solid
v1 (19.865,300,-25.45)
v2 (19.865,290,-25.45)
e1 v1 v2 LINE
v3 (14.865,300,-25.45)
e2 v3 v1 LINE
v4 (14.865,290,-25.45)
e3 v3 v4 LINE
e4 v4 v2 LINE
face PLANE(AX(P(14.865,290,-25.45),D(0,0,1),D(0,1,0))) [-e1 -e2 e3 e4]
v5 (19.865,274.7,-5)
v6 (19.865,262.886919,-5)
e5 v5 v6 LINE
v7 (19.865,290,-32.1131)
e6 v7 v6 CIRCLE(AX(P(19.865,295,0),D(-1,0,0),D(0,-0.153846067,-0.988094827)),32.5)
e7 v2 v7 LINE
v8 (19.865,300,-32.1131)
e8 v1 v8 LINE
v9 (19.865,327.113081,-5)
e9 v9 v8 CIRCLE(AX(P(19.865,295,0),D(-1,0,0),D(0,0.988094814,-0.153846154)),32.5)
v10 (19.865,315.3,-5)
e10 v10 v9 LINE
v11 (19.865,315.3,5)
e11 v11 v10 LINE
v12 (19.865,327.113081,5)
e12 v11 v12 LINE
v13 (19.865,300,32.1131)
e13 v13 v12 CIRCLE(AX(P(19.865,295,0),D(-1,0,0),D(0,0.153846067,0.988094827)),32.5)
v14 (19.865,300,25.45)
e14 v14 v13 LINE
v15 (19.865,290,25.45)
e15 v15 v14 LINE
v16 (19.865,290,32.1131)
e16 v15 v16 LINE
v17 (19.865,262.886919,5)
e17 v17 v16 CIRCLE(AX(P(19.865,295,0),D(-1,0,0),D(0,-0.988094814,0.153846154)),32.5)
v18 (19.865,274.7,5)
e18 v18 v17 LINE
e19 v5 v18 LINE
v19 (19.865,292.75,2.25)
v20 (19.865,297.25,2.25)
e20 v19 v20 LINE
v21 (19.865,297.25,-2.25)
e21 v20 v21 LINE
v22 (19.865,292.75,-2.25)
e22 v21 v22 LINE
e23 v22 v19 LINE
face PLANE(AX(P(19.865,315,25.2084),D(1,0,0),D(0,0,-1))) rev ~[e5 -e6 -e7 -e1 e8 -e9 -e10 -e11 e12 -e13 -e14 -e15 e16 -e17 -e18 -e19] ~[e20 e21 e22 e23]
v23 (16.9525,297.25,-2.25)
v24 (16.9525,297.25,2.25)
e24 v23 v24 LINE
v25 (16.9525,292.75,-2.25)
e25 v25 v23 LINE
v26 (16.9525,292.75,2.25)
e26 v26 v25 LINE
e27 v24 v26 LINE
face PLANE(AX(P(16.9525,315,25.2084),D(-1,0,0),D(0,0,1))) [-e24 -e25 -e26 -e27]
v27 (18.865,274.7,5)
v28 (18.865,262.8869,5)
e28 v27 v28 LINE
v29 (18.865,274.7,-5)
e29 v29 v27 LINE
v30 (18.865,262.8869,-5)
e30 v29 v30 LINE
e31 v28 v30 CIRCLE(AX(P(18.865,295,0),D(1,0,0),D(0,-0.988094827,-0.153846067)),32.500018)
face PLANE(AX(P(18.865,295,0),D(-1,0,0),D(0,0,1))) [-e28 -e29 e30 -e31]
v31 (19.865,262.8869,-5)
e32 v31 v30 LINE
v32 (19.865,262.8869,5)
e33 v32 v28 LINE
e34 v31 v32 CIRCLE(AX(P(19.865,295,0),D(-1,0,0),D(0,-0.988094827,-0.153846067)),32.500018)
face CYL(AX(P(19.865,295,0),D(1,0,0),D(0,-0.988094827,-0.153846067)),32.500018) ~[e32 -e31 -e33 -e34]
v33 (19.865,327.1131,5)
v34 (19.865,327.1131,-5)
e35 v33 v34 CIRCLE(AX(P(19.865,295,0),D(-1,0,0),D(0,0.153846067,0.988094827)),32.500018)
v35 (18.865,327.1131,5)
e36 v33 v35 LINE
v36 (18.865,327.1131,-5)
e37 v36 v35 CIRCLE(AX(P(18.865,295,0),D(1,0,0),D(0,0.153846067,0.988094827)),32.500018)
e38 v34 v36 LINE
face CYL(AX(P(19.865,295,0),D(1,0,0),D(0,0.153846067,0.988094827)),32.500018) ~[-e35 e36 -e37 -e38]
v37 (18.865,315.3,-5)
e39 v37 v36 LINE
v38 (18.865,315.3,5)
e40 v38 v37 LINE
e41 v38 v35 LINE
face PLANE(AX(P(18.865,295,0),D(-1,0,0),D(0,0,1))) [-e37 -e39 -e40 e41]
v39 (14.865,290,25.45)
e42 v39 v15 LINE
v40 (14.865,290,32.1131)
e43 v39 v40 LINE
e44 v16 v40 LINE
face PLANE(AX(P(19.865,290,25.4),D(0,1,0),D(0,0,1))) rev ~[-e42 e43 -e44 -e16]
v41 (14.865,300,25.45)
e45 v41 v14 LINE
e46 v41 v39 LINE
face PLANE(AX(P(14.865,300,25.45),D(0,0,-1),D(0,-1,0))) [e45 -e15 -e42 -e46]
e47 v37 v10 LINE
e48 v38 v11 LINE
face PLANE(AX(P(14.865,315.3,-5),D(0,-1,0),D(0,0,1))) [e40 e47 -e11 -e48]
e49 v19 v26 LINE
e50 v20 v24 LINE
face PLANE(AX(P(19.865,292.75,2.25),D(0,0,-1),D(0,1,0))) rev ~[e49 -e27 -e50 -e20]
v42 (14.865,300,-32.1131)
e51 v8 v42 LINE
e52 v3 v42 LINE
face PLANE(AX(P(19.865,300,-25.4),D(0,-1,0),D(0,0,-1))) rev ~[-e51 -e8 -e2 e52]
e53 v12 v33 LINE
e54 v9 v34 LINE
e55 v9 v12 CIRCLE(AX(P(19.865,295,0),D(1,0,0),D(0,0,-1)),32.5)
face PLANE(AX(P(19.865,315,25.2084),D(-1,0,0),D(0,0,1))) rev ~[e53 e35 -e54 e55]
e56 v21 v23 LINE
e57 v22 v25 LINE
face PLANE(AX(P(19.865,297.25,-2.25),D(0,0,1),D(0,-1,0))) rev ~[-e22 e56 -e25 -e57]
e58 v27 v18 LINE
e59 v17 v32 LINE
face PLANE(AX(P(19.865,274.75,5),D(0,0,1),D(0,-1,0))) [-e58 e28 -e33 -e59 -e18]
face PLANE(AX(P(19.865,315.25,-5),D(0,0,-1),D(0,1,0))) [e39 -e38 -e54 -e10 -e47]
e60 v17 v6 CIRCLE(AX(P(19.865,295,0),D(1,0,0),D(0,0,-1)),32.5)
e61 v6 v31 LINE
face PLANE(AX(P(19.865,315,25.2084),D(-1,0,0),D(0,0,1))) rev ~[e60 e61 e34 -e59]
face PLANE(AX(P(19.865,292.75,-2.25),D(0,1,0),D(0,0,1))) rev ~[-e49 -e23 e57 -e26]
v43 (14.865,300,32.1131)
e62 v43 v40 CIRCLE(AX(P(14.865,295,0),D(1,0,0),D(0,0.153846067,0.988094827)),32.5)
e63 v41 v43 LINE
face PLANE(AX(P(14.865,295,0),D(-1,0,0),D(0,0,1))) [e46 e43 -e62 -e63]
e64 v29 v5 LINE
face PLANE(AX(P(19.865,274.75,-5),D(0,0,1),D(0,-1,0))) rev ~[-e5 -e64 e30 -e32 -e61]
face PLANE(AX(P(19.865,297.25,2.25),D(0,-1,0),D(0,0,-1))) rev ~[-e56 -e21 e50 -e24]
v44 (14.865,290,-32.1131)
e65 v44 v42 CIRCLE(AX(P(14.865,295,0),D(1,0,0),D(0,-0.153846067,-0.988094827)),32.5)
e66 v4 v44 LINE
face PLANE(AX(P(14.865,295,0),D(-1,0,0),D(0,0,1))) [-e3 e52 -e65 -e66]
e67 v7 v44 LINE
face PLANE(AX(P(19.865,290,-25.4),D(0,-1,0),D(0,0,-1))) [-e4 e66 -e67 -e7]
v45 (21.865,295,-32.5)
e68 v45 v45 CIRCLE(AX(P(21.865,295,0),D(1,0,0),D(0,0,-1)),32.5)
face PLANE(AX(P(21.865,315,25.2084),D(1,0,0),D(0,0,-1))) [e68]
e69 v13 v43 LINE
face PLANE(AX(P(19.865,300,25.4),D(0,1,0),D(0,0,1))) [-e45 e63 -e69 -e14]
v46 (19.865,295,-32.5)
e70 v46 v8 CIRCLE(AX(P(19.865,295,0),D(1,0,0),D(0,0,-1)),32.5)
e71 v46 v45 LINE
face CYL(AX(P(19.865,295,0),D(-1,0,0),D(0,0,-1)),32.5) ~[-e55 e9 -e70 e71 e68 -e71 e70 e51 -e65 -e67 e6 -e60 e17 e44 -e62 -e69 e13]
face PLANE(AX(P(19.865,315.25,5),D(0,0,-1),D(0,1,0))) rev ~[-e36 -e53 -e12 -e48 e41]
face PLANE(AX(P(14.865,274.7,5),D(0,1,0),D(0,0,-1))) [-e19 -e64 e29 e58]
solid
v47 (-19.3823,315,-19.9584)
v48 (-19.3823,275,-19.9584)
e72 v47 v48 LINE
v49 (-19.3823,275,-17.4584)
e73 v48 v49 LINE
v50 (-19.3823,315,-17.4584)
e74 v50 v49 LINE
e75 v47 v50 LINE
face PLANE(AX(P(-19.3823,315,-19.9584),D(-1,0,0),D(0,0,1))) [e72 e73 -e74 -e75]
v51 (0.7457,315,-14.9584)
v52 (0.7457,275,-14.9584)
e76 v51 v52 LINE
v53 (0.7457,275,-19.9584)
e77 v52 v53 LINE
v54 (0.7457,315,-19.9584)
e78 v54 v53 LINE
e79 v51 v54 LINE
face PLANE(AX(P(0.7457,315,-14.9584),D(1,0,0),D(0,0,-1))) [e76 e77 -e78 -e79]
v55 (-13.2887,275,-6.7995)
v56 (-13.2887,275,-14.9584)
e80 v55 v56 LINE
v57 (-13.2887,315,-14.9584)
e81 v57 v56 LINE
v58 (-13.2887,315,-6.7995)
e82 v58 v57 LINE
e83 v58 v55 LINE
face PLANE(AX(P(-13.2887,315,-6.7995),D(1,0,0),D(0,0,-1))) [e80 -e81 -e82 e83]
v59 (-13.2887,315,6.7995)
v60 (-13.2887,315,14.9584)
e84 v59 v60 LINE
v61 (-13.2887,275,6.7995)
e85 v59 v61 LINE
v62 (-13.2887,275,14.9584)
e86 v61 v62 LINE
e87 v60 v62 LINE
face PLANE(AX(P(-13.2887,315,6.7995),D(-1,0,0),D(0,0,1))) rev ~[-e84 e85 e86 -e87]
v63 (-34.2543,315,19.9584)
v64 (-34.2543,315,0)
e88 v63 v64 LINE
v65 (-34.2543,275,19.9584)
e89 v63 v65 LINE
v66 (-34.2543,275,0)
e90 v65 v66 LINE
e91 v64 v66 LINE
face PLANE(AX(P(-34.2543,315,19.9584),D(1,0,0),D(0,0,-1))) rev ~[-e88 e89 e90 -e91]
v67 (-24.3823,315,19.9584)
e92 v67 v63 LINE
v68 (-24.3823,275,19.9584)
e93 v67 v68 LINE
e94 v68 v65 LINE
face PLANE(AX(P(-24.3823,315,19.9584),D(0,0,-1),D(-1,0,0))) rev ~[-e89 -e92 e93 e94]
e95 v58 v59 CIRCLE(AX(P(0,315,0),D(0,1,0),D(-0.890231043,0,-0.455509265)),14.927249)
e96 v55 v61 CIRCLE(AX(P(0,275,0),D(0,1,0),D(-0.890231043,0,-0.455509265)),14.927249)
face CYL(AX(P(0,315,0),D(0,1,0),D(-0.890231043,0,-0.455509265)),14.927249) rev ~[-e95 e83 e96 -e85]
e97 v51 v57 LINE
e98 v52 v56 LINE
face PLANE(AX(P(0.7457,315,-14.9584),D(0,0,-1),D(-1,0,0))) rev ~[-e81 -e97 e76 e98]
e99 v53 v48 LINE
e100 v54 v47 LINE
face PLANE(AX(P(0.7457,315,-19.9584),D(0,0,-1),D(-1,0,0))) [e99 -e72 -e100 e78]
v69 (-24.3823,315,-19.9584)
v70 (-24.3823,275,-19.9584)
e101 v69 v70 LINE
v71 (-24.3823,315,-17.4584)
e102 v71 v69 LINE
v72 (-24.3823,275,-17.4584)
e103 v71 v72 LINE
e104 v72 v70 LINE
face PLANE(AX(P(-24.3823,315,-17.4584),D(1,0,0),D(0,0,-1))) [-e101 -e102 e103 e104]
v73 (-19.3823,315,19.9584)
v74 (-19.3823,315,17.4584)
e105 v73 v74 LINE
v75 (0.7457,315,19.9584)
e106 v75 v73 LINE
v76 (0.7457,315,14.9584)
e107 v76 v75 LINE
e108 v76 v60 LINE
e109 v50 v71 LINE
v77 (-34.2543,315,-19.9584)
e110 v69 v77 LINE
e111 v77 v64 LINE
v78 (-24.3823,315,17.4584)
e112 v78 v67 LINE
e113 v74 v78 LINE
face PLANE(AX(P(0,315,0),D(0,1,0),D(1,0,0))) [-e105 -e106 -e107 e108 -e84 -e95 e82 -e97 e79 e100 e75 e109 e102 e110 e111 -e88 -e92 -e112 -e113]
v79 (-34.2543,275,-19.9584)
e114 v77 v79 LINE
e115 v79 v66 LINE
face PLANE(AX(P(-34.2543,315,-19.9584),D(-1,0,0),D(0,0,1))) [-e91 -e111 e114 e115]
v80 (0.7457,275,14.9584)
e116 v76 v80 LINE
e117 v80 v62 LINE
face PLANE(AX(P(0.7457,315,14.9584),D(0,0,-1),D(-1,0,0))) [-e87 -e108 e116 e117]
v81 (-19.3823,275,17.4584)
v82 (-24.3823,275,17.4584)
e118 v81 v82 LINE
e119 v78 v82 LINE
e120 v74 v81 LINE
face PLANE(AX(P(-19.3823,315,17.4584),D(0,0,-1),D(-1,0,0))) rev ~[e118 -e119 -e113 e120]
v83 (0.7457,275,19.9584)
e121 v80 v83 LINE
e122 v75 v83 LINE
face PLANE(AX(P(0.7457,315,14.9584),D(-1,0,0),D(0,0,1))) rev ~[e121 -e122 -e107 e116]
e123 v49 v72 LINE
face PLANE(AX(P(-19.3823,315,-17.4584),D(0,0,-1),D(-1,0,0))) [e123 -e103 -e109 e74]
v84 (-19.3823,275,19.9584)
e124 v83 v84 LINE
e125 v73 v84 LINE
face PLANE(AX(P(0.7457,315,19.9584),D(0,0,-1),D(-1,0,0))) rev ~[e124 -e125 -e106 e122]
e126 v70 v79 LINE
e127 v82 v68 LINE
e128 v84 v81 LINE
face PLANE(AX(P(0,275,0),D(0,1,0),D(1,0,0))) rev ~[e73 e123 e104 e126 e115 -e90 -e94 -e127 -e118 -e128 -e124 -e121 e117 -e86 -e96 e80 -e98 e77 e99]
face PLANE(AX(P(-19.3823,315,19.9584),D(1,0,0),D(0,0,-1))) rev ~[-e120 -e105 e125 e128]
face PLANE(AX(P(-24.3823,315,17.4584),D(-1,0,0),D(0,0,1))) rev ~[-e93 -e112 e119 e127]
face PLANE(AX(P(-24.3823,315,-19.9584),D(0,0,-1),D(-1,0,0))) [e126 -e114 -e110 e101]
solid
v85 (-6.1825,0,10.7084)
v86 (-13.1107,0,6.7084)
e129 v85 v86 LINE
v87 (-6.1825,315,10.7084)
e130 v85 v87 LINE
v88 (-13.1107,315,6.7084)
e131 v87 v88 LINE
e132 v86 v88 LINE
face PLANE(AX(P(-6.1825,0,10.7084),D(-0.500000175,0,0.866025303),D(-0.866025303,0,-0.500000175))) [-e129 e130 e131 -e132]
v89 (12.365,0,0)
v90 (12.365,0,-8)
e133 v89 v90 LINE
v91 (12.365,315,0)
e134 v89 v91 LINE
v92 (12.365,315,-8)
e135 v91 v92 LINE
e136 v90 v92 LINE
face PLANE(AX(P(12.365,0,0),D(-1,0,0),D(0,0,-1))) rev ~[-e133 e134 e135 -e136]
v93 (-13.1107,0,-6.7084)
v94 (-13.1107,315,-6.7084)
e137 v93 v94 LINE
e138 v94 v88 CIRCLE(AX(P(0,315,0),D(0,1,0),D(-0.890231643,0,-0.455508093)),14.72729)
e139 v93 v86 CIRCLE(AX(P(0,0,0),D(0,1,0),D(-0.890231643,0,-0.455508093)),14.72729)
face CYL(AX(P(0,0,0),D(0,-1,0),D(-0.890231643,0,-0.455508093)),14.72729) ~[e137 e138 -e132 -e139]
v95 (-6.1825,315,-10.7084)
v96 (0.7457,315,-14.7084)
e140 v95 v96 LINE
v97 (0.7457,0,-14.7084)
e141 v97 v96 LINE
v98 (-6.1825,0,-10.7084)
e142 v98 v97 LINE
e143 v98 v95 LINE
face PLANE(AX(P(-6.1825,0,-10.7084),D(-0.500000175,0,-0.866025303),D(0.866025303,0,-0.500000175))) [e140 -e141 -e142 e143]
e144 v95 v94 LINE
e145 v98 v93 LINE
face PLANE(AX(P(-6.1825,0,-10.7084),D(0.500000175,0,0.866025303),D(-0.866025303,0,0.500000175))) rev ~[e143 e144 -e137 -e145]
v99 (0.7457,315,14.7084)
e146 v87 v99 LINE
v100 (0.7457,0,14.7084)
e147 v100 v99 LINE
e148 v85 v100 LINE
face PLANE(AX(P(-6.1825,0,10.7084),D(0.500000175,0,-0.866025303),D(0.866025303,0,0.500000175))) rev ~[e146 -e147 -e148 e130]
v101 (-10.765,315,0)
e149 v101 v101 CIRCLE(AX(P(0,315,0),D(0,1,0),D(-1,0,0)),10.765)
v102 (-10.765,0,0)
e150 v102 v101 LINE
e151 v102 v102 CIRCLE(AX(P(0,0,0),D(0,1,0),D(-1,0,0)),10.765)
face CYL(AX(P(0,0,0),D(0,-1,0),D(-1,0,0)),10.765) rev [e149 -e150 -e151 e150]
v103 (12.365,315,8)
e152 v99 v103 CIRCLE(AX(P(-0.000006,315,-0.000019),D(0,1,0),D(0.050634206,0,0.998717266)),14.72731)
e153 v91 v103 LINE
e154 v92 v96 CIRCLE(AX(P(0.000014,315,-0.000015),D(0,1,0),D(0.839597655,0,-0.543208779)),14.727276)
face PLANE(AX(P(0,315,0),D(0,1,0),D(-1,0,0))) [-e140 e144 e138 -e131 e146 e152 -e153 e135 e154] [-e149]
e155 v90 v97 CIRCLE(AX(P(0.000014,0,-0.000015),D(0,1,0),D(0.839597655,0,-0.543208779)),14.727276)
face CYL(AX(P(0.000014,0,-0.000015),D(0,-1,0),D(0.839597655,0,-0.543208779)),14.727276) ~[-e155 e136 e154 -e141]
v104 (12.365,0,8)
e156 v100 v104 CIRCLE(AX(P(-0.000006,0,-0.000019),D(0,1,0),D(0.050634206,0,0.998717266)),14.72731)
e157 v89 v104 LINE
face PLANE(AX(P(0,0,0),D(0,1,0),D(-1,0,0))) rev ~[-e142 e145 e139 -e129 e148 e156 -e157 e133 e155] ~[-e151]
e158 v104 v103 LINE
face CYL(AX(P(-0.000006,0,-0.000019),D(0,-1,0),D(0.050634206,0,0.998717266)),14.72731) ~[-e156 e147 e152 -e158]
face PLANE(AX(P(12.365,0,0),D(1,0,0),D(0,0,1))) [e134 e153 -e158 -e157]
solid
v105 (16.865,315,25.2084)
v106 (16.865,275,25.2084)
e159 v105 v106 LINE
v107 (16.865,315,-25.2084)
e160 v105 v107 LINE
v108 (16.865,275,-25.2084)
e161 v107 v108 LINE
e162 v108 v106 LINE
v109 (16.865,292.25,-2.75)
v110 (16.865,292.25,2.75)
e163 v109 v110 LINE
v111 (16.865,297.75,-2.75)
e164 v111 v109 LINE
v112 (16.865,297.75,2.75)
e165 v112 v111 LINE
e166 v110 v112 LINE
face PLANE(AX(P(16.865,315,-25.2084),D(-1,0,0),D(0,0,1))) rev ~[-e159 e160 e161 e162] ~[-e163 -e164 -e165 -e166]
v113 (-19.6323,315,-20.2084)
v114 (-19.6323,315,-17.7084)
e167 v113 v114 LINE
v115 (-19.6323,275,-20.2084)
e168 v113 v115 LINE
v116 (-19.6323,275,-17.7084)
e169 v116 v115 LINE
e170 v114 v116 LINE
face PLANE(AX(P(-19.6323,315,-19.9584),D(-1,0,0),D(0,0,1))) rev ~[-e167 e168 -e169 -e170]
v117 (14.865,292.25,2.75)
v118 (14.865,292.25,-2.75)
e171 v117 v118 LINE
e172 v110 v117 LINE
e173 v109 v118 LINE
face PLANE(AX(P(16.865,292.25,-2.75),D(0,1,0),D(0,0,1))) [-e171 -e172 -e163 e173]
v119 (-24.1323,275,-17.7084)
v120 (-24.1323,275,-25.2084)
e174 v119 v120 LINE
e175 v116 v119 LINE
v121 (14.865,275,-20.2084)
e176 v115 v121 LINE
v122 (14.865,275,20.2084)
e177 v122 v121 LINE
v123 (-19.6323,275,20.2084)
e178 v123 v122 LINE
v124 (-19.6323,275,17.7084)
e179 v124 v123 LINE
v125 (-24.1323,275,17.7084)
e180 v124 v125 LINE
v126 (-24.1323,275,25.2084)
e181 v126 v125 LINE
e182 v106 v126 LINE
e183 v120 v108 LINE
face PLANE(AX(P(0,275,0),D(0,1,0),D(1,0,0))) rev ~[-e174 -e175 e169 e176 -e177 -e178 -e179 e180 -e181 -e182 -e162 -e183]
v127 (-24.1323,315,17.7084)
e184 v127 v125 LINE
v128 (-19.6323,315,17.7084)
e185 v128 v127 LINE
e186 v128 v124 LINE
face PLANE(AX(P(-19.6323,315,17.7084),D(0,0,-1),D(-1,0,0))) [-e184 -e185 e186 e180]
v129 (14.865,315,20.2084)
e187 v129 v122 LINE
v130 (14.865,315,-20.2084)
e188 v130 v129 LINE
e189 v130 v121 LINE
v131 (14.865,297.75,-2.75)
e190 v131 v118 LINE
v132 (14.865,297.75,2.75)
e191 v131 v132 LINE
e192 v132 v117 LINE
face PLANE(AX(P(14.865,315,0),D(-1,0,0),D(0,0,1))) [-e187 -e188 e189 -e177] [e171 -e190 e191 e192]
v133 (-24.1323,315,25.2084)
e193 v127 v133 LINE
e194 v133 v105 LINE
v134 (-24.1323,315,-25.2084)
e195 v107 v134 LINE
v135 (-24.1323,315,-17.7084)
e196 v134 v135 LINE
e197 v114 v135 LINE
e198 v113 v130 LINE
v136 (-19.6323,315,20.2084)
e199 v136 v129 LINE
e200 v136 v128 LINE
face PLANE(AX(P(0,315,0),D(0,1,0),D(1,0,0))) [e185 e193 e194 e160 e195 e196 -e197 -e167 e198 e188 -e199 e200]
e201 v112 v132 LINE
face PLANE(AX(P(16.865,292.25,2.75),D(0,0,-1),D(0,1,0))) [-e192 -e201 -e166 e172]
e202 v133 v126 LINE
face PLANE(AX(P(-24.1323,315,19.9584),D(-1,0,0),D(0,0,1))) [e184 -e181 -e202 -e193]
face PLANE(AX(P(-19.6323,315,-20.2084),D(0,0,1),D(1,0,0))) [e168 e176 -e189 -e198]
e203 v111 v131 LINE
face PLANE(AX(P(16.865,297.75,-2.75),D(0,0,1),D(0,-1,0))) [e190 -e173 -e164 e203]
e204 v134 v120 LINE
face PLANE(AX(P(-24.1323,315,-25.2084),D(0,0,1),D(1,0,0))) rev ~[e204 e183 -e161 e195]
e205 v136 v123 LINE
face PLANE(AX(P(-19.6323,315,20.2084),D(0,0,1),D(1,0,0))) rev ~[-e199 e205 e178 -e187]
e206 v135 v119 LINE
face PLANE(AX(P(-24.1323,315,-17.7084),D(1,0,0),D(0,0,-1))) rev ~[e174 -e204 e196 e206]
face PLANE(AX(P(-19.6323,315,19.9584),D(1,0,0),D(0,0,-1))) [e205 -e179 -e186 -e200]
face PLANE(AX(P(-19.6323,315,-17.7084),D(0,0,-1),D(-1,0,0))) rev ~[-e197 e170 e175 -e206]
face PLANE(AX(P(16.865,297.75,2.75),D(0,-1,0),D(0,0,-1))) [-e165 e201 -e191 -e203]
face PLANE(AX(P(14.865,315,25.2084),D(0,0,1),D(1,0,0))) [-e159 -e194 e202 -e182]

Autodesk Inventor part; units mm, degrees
ref_plane "YZ Plane" through (0, 0, 0) normal (1, 0, 0) x (0, 1, 0)
ref_plane "XZ Plane" through (0, 0, 0) normal (0, 1, 0) x (-1, 0, 0)
ref_plane "XY Plane" through (0, 0, 0) normal (0, 0, 1) x (1, 0, 0)
sketch "Sketch1" plane through (0, 0, 0) normal (0, 1, 0) x (-1, 0, 0)
  circle A0 centre (0, 0) radius 10.765
  line L0 (0, 0) -> (162.1519, 0) construction
  line L1 (0, 0) -> (190.4731, 0) construction
  line L2 (0, 0) -> (10.765, 0) construction
  line L3 (6.1825, -10.7084) -> (13.1107, -6.7084)
  line L4 (6.1825, -10.7084) -> (-0.7457, -14.7084)
  line L5 (6.1825, 10.7084) -> (-0.7457, 14.7084)
  line L6 (6.1825, 10.7084) -> (13.1107, 6.7084)
  line L7 (-12.365, 0) -> (-12.365, -8)
  line L8 (-12.365, 0) -> (-12.365, 8)
  arc A1 (-0.7457, 14.7084) -> (-12.365, 8) centre (0, 0) ccw
  arc A2 (-12.365, -8) -> (-0.7457, -14.7084) centre (0, 0) ccw
  arc A3 (13.1107, -6.7084) -> (13.1107, 6.7084) centre (0, 0) ccw
  dimension "d6" = 8
  dimension "d7" = 8
  dimension "d8" = 21.53
  dimension "d11" = 360
extrude "Extrusion1" add sketch "Sketch1" along normal blind 315
sketch "Sketch2" plane through (0, 315, 0) normal (0, 1, 0) x (1, 0, 0)
  arc A0 (-13.1107, 6.7084) -> (-13.1107, -6.7084) centre (0, 0) ccw projected
  arc A1 (-13.2887, 6.7995) -> (-13.2887, -6.7995) centre (0, 0) ccw
  line L0 (-13.2887, 6.7995) -> (-13.2887, 14.9584)
  line L1 (0.7457, 14.9584) -> (-13.2887, 14.9584)
  circle A2 centre (0, 0) radius 10.765 projected
  line L2 (-13.2887, -6.7995) -> (-13.2887, -14.9584)
  line L3 (0.7457, -14.9584) -> (-13.2887, -14.9584)
  line L4 (0.7457, 14.9584) -> (0.7457, 19.9584)
  line L5 (-34.2543, 19.9584) -> (-34.2543, 0)
  line L6 (0.7457, -14.9584) -> (0.7457, -19.9584)
  line L7 (-34.2543, -19.9584) -> (-34.2543, 0)
  line L8 (-19.3823, 19.9584) -> (-19.3823, 17.4584)
  line L9 (-19.3823, 17.4584) -> (-24.3823, 17.4584)
  line L10 (-24.3823, 17.4584) -> (-24.3823, 19.9584)
  line L11 (0.7457, 19.9584) -> (-19.3823, 19.9584)
  line L12 (-24.3823, 19.9584) -> (-34.2543, 19.9584)
  line L13 (-19.3823, -19.9584) -> (-19.3823, -17.4584)
  line L14 (-19.3823, -17.4584) -> (-24.3823, -17.4584)
  line L15 (-24.3823, -17.4584) -> (-24.3823, -19.9584)
  line L16 (0.7457, -19.9584) -> (-19.3823, -19.9584)
  line L17 (-24.3823, -19.9584) -> (-34.2543, -19.9584)
  dimension "d15" = 0.2
  dimension "d18" = 5
  dimension "d19" = 35
  dimension "d20" = 5
extrude "Extrusion2" add sketch "Sketch2" against normal blind 40 separate body contours A1 L2 L3 L6 L16 L13 L14 L15 L17 L7 L5 L12 L10 L9 L8 L11 L4 L1 L0
sketch "Sketch3" plane through (0, 315, 0) normal (0, 1, 0) x (1, 0, 0)
  line L0 (-19.3823, 19.9584) -> (-19.3823, 17.4584) projected
  line L1 (-19.3823, 17.4584) -> (-24.3823, 17.4584) projected
  line L2 (-24.3823, 17.4584) -> (-24.3823, 19.9584) projected
  line L3 (-19.6323, 19.9584) -> (-19.6323, 17.7084)
  line L4 (-19.6323, 17.7084) -> (-24.1323, 17.7084)
  line L5 (-24.1323, 17.7084) -> (-24.1323, 19.9584)
  line L6 (-19.6323, 19.9584) -> (-19.6323, 20.2084)
  line L7 (-19.3823, 19.9584) -> (0.7457, 19.9584) projected
  line L8 (-19.6323, 19.9584) -> (-19.3823, 19.9584) construction
  line L9 (-19.6323, 20.2084) -> (14.865, 20.2084)
  line L10 (12.365, -8) -> (12.365, 8) projected
  line L11 (12.365, 0) -> (14.865, 0)
  line L12 (14.865, 0) -> (14.865, 20.2084)
  line L13 (-24.1323, 19.9584) -> (-24.1323, 25.2084)
  line L14 (-24.1323, 25.2084) -> (14.865, 25.2084)
  line L15 (14.865, 25.2084) -> (16.865, 25.2084)
  line L16 (16.865, 25.2084) -> (16.865, 0)
  line L17 (0, 0) -> (2.9179, 0)
  line L18 (-19.6323, -19.9584) -> (-19.6323, -17.7084)
  line L19 (-19.6323, -17.7084) -> (-24.1323, -17.7084)
  line L20 (-24.1323, -17.7084) -> (-24.1323, -19.9584)
  line L21 (-19.6323, -19.9584) -> (-19.6323, -20.2084)
  line L22 (-19.3823, -19.9584) -> (0.7457, -19.9584)
  line L23 (-19.6323, -19.9584) -> (-19.3823, -19.9584) construction
  line L24 (-19.6323, -20.2084) -> (14.865, -20.2084)
  line L25 (14.865, 0) -> (14.865, -20.2084)
  line L26 (-24.1323, -19.9584) -> (-24.1323, -25.2084)
  line L27 (-24.1323, -25.2084) -> (14.865, -25.2084)
  line L28 (14.865, -25.2084) -> (16.865, -25.2084)
  line L29 (16.865, -25.2084) -> (16.865, 0)
  point P0 (-19.3823, -17.4584)
  dimension "d23" = 0.25
  dimension "d24" = 0.25
  dimension "d25" = 90
  dimension "d26" = 90
  dimension "d27" = 2.5
  dimension "d28" = 5.25
  dimension "d29" = 2
extrude "Extrusion3" add sketch "Sketch3" against normal blind 40 separate body
sketch "Sketch4" plane through (16.865, 315, 25.2084) normal (1, 0, 0) x (0, 0, -1)
  line L0 (33.2084, -315) -> (33.2084, 0) projected
  line L1 (17.2084, -315) -> (17.2084, 0) projected
  line L2 (0, 0) -> (0, -40) projected
  line L3 (0, 0) -> (50.4168, 0) projected
  line L4 (50.4168, 0) -> (50.4168, -40) projected
  line L5 (50.4168, -40) -> (0, -40) projected
  line L6 (27.9584, -22.75) -> (22.4584, -22.75)
  line L7 (22.4584, -22.75) -> (22.4584, -17.25)
  line L8 (22.4584, -17.25) -> (27.9584, -17.25)
  line L9 (27.9584, -17.25) -> (27.9584, -22.75)
  line L10 (27.9584, -22.75) -> (22.4584, -17.25) construction
  line L11 (22.4584, -22.75) -> (27.9584, -17.25) construction
  point P0 (25.2084, -315)
  point P1 (25.2084, -20)
  dimension "d32" = 5.5
  dimension "d33" = 5.5
extrude "Extrusion4" cut sketch "Sketch4" against normal blind 3.4875 contours L6 L7 L8 L9 bodies 3
sketch "Sketch5" plane through (16.865, 315, 25.2084) normal (1, 0, 0) x (0, 0, -1)
  line L0 (22.4584, -22.75) -> (22.4584, -17.25) projected
  line L1 (27.9584, -22.75) -> (22.4584, -22.75) projected
  line L2 (27.9584, -17.25) -> (27.9584, -22.75) projected
  line L3 (22.4584, -17.25) -> (27.9584, -17.25) projected
  line L4 (27.7084, -17.5) -> (27.7084, -22.5)
  line L5 (27.7084, -22.5) -> (22.7084, -22.5)
  line L6 (22.7084, -22.5) -> (22.7084, -17.5)
  line L7 (22.7084, -17.5) -> (27.7084, -17.5)
  point P0 (25.2084, -315)
  dimension "d36" = 0.25
extrude "Extrusion5" add sketch "Sketch5" along normal mid plane 6 separate body contours L4 L5 L6 L7
sketch "Sketch6" plane through (19.865, 315, 25.2084) normal (1, 0, 0) x (0, 0, -1)
  line L0 (27.7084, -22.5) -> (27.7084, -17.5) projected
  line L1 (27.7084, -17.5) -> (22.7084, -17.5) projected
  line L2 (22.7084, -17.5) -> (22.7084, -22.5) projected
  line L3 (22.7084, -22.5) -> (27.7084, -22.5) projected
  line L4 (22.7084, -17.5) -> (22.7084, -22.5) projected
  line L5 (22.7084, -22.5) -> (27.7084, -22.5) projected
  line L6 (27.7084, -22.5) -> (27.7084, -17.5) projected
  line L7 (27.7084, -17.5) -> (22.7084, -17.5) projected
  circle A0 centre (25.2084, -20) radius 32.5
  point P0 (25.2084, -315)
  dimension "d39" = 65
extrude "Extrusion6" add sketch "Sketch6" along normal blind 2 bodies 4
sketch "Sketch7" plane through (19.865, 315, 25.2084) normal (1, 0, 0) x (0, 0, -1)
  point P0 (25.2084, -315)
sketch "Sketch8" plane through (21.865, 295, 0) normal (1, 0, 0) x (0, 0, -1)
  line L0 (-2.5, -2.5) -> (-2.5, 2.5) projected
  line L1 (-2.5, 2.5) -> (2.5, 2.5) projected
  line L2 (2.5, 2.5) -> (2.5, -2.5) projected
  line L3 (2.5, -2.5) -> (-2.5, -2.5) projected
  point P0 (0, -295)
extrude "Extrusion7" add sketch "Sketch8" against normal blind 2.35 bodies 4
sketch "Sketch9" plane through (13.865, 315, 25.2084) normal (-1, 0, 0) x (0, 0, 1)
  line L0 (-29.608, -15.5608) -> (-20.4879, -15.5608)
  line L1 (-20.4879, -15.5608) -> (-20.4879, -24.3637)
  line L2 (-20.4879, -24.3637) -> (-29.608, -24.3637)
  line L3 (-29.608, -24.3637) -> (-29.608, -15.5608)
  point P0 (-25.2084, -315)
extrude "Extrusion8" cut sketch "Sketch9" against normal blind 3.0875 bodies 4
sketch "Sketch10" plane through (19.865, 295, 0) normal (-1, 0, 0) x (0, 0, 1)
  line L0 (-2.5, 2.5) -> (2.5, 2.5) projected
  line L1 (-2.5, -2.5) -> (-2.5, 2.5) projected
  line L2 (2.5, -2.5) -> (-2.5, -2.5) projected
  line L3 (2.5, 2.5) -> (2.5, -2.5) projected
  line L4 (-2.25, -2.25) -> (2.25, -2.25)
  line L5 (2.25, -2.25) -> (2.25, 2.25)
  line L6 (2.25, 2.25) -> (-2.25, 2.25)
  line L7 (-2.25, 2.25) -> (-2.25, -2.25)
  line L8 (-2.25, -2.25) -> (2.25, 2.25) construction
  line L9 (2.25, -2.25) -> (-2.25, 2.25) construction
  line L10 (-2.5, 2.5) -> (2.5, 2.5)
  line L11 (2.5, 2.5) -> (2.5, -2.5)
  line L12 (2.5, -2.5) -> (-2.5, -2.5)
  line L13 (-2.5, -2.5) -> (-2.5, 2.5)
  line L14 (-2.5, 2.5) -> (2.5, -2.5) construction
  line L15 (2.5, 2.5) -> (-2.5, -2.5) construction
  point P0 (0, -295)
  point P1 (0, 0)
  dimension "d46" = 4.5
  dimension "d47" = 4.5
extrude "Extrusion9" cut sketch "Sketch10" along normal blind 6.2625 bodies 4
sketch "Sketch11" plane through (-24.1323, 315, 25.2084) normal (0, 0, 1) x (1, 0, 0)
  point P0 (24.1323, -315)
sketch "Sketch12" plane through (19.865, 295, 0) normal (-1, 0, 0) x (0, 0, 1)
  circle A0 centre (0, 0) radius 32.5 projected
  line L0 (25.2084, 20) -> (25.2084, -20) projected
  line L1 (25.4, 0) -> (25.4, 5)
  line L2 (25.4, 5) -> (32.1131, 5)
  arc A1 (32.5, 0) -> (32.1131, 5) centre (0, 0) ccw
  line L3 (25.4, 0) -> (25.4, -5)
  line L4 (25.4, -5) -> (32.1131, -5)
  arc A2 (32.1131, -5) -> (32.5, 0) centre (0, 0) ccw
  line L5 (-25.4, 0) -> (-25.4, 5)
  line L6 (-25.4, 5) -> (-32.1131, 5)
  arc A3 (-32.1131, 5) -> (-32.5, 0) centre (0, 0) ccw
  line L7 (-25.4, -5) -> (-32.1131, -5)
  line L8 (-25.4, 0) -> (-25.4, -5)
  arc A4 (-32.5, 0) -> (-32.1131, -5) centre (0, 0) ccw
  point P0 (0, -295)
  point P1 (32.1131, -5)
  point P2 (-32.1131, 5)
  point P3 (-32.1131, -5)
  dimension "d50" = 7.1
  dimension "d52" = 5
extrude "Extrusion10" add sketch "Sketch12" along normal blind 5 contours A0 L4 L3 L1 L2 | L6 L5 L8 L7 A0 bodies 4
sketch "Sketch13" plane through (19.865, 315, 25.2084) normal (-1, 0, 0) x (0, 0, 1)
  line L0 (-18.5, 0) -> (-31.9168, 0) projected
  line L1 (-25.2084, 0.25) -> (-20.2084, 0.25)
  arc A0 (6.9047, -15) -> (-57.3215, -15) centre (-25.2084, -20) ccw projected
  line L2 (-20.2084, 0.25) -> (-20.2084, 12.1131)
  line L3 (-25.2084, 0.25) -> (-30.2084, 0.25)
  line L4 (-30.2084, 0.25) -> (-30.2084, 12.1131)
  arc A1 (-20.2084, 12.1131) -> (-30.2084, 12.1131) centre (-25.2084, -20) ccw
  line L5 (-25.2084, -40.25) -> (-20.2084, -40.25)
  line L6 (-20.2084, -40.25) -> (-20.2084, -52.1131)
  line L7 (-25.2084, -40.25) -> (-30.2084, -40.25)
  line L8 (-30.2084, -40.25) -> (-30.2084, -52.1131)
  arc A2 (-30.2084, -52.1131) -> (-20.2084, -52.1131) centre (-25.2084, -20) ccw
  point P0 (-25.2084, -315)
  point P1 (-18.5, -40)
  dimension "d56" = 5
  dimension "d57" = 5
extrude "Extrusion11" add sketch "Sketch13" along normal blind 5 bodies 4
sketch "Sketch14" plane through (14.865, 315, 25.2084) normal (-1, 0, 0) x (0, 0, 1)
  line L0 (-20.2084, 0.25) -> (-20.2084, 0.3)
  line L1 (-20.2084, 0.25) -> (-20.2084, 12.1131) projected
  line L2 (-30.2084, 0.3) -> (-50.6584, 0.3)
  line L3 (-50.6084, -15) -> (-50.6084, -25) projected
  line L4 (-50.6084, -15) -> (-50.6584, -15)
  line L5 (-50.6584, -15) -> (-50.6584, 0.3)
  line L6 (-30.2084, 0.3) -> (-25.2084, 0.3)
  line L7 (-50.6584, -15) -> (-50.6584, -20)
  line L8 (-20.2084, 0.3) -> (0.2416, 0.3)
  line L9 (0.1916, -15) -> (0.2416, -15)
  line L10 (0.2416, -15) -> (0.2416, 0.3)
  line L11 (-20.2084, 0.3) -> (-25.2084, 0.3)
  line L12 (0.2416, -15) -> (0.2416, -20)
  line L13 (-20.2084, -40.25) -> (-20.2084, -40.3)
  line L14 (-30.2084, -40.3) -> (-50.6584, -40.3)
  line L15 (-50.6584, -25) -> (-50.6584, -40.3)
  line L16 (-30.2084, -40.3) -> (-25.2084, -40.3)
  line L17 (-50.6584, -25) -> (-50.6584, -20)
  line L18 (-20.2084, -40.3) -> (0.2416, -40.3)
  line L19 (0.2416, -25) -> (0.2416, -40.3)
  line L20 (0.2416, -25) -> (0.2416, -20)
  line L21 (-20.2084, -40.3) -> (-25.2084, -40.3)
  line L22 (-29.4997, -16.0212) -> (-20.2084, -16.0212)
  line L23 (-20.2084, -16.0212) -> (-20.2084, -24.0433)
  line L24 (-20.2084, -24.0433) -> (-29.4997, -24.0433)
  line L25 (-29.4997, -24.0433) -> (-29.4997, -16.0212)
  point P0 (-25.2084, -315)
  point P1 (6.9047, -15)
  dimension "d60" = 0.05
  dimension "d61" = 0.05
extrude "Extrusion12" cut sketch "Sketch14" against normal blind 5 bodies 4
sketch "Sketch15" plane through (14.865, 295, 0) normal (-1, 0, 0) x (0, 0, 1)
  line L0 (-12.8519, 40.0431) -> (11.8192, 40.0431)
  line L1 (11.8192, 40.0431) -> (11.8192, 16.7136)
  line L2 (11.8192, 16.7136) -> (-12.8519, 16.7136)
  line L3 (-12.8519, 16.7136) -> (-12.8519, 40.0431)
  line L4 (-18.8893, -12.8023) -> (17.1858, -12.8023)
  line L5 (17.1858, -12.8023) -> (17.1858, -35.3865)
  line L6 (17.1858, -35.3865) -> (-18.8893, -35.3865)
  line L7 (-18.8893, -35.3865) -> (-18.8893, -12.8023)
  point P0 (0, -295)
extrude "Extrusion13" cut sketch "Sketch15" against normal blind 4 bodies 4
properties part number "Funda_Escoba_v1"
